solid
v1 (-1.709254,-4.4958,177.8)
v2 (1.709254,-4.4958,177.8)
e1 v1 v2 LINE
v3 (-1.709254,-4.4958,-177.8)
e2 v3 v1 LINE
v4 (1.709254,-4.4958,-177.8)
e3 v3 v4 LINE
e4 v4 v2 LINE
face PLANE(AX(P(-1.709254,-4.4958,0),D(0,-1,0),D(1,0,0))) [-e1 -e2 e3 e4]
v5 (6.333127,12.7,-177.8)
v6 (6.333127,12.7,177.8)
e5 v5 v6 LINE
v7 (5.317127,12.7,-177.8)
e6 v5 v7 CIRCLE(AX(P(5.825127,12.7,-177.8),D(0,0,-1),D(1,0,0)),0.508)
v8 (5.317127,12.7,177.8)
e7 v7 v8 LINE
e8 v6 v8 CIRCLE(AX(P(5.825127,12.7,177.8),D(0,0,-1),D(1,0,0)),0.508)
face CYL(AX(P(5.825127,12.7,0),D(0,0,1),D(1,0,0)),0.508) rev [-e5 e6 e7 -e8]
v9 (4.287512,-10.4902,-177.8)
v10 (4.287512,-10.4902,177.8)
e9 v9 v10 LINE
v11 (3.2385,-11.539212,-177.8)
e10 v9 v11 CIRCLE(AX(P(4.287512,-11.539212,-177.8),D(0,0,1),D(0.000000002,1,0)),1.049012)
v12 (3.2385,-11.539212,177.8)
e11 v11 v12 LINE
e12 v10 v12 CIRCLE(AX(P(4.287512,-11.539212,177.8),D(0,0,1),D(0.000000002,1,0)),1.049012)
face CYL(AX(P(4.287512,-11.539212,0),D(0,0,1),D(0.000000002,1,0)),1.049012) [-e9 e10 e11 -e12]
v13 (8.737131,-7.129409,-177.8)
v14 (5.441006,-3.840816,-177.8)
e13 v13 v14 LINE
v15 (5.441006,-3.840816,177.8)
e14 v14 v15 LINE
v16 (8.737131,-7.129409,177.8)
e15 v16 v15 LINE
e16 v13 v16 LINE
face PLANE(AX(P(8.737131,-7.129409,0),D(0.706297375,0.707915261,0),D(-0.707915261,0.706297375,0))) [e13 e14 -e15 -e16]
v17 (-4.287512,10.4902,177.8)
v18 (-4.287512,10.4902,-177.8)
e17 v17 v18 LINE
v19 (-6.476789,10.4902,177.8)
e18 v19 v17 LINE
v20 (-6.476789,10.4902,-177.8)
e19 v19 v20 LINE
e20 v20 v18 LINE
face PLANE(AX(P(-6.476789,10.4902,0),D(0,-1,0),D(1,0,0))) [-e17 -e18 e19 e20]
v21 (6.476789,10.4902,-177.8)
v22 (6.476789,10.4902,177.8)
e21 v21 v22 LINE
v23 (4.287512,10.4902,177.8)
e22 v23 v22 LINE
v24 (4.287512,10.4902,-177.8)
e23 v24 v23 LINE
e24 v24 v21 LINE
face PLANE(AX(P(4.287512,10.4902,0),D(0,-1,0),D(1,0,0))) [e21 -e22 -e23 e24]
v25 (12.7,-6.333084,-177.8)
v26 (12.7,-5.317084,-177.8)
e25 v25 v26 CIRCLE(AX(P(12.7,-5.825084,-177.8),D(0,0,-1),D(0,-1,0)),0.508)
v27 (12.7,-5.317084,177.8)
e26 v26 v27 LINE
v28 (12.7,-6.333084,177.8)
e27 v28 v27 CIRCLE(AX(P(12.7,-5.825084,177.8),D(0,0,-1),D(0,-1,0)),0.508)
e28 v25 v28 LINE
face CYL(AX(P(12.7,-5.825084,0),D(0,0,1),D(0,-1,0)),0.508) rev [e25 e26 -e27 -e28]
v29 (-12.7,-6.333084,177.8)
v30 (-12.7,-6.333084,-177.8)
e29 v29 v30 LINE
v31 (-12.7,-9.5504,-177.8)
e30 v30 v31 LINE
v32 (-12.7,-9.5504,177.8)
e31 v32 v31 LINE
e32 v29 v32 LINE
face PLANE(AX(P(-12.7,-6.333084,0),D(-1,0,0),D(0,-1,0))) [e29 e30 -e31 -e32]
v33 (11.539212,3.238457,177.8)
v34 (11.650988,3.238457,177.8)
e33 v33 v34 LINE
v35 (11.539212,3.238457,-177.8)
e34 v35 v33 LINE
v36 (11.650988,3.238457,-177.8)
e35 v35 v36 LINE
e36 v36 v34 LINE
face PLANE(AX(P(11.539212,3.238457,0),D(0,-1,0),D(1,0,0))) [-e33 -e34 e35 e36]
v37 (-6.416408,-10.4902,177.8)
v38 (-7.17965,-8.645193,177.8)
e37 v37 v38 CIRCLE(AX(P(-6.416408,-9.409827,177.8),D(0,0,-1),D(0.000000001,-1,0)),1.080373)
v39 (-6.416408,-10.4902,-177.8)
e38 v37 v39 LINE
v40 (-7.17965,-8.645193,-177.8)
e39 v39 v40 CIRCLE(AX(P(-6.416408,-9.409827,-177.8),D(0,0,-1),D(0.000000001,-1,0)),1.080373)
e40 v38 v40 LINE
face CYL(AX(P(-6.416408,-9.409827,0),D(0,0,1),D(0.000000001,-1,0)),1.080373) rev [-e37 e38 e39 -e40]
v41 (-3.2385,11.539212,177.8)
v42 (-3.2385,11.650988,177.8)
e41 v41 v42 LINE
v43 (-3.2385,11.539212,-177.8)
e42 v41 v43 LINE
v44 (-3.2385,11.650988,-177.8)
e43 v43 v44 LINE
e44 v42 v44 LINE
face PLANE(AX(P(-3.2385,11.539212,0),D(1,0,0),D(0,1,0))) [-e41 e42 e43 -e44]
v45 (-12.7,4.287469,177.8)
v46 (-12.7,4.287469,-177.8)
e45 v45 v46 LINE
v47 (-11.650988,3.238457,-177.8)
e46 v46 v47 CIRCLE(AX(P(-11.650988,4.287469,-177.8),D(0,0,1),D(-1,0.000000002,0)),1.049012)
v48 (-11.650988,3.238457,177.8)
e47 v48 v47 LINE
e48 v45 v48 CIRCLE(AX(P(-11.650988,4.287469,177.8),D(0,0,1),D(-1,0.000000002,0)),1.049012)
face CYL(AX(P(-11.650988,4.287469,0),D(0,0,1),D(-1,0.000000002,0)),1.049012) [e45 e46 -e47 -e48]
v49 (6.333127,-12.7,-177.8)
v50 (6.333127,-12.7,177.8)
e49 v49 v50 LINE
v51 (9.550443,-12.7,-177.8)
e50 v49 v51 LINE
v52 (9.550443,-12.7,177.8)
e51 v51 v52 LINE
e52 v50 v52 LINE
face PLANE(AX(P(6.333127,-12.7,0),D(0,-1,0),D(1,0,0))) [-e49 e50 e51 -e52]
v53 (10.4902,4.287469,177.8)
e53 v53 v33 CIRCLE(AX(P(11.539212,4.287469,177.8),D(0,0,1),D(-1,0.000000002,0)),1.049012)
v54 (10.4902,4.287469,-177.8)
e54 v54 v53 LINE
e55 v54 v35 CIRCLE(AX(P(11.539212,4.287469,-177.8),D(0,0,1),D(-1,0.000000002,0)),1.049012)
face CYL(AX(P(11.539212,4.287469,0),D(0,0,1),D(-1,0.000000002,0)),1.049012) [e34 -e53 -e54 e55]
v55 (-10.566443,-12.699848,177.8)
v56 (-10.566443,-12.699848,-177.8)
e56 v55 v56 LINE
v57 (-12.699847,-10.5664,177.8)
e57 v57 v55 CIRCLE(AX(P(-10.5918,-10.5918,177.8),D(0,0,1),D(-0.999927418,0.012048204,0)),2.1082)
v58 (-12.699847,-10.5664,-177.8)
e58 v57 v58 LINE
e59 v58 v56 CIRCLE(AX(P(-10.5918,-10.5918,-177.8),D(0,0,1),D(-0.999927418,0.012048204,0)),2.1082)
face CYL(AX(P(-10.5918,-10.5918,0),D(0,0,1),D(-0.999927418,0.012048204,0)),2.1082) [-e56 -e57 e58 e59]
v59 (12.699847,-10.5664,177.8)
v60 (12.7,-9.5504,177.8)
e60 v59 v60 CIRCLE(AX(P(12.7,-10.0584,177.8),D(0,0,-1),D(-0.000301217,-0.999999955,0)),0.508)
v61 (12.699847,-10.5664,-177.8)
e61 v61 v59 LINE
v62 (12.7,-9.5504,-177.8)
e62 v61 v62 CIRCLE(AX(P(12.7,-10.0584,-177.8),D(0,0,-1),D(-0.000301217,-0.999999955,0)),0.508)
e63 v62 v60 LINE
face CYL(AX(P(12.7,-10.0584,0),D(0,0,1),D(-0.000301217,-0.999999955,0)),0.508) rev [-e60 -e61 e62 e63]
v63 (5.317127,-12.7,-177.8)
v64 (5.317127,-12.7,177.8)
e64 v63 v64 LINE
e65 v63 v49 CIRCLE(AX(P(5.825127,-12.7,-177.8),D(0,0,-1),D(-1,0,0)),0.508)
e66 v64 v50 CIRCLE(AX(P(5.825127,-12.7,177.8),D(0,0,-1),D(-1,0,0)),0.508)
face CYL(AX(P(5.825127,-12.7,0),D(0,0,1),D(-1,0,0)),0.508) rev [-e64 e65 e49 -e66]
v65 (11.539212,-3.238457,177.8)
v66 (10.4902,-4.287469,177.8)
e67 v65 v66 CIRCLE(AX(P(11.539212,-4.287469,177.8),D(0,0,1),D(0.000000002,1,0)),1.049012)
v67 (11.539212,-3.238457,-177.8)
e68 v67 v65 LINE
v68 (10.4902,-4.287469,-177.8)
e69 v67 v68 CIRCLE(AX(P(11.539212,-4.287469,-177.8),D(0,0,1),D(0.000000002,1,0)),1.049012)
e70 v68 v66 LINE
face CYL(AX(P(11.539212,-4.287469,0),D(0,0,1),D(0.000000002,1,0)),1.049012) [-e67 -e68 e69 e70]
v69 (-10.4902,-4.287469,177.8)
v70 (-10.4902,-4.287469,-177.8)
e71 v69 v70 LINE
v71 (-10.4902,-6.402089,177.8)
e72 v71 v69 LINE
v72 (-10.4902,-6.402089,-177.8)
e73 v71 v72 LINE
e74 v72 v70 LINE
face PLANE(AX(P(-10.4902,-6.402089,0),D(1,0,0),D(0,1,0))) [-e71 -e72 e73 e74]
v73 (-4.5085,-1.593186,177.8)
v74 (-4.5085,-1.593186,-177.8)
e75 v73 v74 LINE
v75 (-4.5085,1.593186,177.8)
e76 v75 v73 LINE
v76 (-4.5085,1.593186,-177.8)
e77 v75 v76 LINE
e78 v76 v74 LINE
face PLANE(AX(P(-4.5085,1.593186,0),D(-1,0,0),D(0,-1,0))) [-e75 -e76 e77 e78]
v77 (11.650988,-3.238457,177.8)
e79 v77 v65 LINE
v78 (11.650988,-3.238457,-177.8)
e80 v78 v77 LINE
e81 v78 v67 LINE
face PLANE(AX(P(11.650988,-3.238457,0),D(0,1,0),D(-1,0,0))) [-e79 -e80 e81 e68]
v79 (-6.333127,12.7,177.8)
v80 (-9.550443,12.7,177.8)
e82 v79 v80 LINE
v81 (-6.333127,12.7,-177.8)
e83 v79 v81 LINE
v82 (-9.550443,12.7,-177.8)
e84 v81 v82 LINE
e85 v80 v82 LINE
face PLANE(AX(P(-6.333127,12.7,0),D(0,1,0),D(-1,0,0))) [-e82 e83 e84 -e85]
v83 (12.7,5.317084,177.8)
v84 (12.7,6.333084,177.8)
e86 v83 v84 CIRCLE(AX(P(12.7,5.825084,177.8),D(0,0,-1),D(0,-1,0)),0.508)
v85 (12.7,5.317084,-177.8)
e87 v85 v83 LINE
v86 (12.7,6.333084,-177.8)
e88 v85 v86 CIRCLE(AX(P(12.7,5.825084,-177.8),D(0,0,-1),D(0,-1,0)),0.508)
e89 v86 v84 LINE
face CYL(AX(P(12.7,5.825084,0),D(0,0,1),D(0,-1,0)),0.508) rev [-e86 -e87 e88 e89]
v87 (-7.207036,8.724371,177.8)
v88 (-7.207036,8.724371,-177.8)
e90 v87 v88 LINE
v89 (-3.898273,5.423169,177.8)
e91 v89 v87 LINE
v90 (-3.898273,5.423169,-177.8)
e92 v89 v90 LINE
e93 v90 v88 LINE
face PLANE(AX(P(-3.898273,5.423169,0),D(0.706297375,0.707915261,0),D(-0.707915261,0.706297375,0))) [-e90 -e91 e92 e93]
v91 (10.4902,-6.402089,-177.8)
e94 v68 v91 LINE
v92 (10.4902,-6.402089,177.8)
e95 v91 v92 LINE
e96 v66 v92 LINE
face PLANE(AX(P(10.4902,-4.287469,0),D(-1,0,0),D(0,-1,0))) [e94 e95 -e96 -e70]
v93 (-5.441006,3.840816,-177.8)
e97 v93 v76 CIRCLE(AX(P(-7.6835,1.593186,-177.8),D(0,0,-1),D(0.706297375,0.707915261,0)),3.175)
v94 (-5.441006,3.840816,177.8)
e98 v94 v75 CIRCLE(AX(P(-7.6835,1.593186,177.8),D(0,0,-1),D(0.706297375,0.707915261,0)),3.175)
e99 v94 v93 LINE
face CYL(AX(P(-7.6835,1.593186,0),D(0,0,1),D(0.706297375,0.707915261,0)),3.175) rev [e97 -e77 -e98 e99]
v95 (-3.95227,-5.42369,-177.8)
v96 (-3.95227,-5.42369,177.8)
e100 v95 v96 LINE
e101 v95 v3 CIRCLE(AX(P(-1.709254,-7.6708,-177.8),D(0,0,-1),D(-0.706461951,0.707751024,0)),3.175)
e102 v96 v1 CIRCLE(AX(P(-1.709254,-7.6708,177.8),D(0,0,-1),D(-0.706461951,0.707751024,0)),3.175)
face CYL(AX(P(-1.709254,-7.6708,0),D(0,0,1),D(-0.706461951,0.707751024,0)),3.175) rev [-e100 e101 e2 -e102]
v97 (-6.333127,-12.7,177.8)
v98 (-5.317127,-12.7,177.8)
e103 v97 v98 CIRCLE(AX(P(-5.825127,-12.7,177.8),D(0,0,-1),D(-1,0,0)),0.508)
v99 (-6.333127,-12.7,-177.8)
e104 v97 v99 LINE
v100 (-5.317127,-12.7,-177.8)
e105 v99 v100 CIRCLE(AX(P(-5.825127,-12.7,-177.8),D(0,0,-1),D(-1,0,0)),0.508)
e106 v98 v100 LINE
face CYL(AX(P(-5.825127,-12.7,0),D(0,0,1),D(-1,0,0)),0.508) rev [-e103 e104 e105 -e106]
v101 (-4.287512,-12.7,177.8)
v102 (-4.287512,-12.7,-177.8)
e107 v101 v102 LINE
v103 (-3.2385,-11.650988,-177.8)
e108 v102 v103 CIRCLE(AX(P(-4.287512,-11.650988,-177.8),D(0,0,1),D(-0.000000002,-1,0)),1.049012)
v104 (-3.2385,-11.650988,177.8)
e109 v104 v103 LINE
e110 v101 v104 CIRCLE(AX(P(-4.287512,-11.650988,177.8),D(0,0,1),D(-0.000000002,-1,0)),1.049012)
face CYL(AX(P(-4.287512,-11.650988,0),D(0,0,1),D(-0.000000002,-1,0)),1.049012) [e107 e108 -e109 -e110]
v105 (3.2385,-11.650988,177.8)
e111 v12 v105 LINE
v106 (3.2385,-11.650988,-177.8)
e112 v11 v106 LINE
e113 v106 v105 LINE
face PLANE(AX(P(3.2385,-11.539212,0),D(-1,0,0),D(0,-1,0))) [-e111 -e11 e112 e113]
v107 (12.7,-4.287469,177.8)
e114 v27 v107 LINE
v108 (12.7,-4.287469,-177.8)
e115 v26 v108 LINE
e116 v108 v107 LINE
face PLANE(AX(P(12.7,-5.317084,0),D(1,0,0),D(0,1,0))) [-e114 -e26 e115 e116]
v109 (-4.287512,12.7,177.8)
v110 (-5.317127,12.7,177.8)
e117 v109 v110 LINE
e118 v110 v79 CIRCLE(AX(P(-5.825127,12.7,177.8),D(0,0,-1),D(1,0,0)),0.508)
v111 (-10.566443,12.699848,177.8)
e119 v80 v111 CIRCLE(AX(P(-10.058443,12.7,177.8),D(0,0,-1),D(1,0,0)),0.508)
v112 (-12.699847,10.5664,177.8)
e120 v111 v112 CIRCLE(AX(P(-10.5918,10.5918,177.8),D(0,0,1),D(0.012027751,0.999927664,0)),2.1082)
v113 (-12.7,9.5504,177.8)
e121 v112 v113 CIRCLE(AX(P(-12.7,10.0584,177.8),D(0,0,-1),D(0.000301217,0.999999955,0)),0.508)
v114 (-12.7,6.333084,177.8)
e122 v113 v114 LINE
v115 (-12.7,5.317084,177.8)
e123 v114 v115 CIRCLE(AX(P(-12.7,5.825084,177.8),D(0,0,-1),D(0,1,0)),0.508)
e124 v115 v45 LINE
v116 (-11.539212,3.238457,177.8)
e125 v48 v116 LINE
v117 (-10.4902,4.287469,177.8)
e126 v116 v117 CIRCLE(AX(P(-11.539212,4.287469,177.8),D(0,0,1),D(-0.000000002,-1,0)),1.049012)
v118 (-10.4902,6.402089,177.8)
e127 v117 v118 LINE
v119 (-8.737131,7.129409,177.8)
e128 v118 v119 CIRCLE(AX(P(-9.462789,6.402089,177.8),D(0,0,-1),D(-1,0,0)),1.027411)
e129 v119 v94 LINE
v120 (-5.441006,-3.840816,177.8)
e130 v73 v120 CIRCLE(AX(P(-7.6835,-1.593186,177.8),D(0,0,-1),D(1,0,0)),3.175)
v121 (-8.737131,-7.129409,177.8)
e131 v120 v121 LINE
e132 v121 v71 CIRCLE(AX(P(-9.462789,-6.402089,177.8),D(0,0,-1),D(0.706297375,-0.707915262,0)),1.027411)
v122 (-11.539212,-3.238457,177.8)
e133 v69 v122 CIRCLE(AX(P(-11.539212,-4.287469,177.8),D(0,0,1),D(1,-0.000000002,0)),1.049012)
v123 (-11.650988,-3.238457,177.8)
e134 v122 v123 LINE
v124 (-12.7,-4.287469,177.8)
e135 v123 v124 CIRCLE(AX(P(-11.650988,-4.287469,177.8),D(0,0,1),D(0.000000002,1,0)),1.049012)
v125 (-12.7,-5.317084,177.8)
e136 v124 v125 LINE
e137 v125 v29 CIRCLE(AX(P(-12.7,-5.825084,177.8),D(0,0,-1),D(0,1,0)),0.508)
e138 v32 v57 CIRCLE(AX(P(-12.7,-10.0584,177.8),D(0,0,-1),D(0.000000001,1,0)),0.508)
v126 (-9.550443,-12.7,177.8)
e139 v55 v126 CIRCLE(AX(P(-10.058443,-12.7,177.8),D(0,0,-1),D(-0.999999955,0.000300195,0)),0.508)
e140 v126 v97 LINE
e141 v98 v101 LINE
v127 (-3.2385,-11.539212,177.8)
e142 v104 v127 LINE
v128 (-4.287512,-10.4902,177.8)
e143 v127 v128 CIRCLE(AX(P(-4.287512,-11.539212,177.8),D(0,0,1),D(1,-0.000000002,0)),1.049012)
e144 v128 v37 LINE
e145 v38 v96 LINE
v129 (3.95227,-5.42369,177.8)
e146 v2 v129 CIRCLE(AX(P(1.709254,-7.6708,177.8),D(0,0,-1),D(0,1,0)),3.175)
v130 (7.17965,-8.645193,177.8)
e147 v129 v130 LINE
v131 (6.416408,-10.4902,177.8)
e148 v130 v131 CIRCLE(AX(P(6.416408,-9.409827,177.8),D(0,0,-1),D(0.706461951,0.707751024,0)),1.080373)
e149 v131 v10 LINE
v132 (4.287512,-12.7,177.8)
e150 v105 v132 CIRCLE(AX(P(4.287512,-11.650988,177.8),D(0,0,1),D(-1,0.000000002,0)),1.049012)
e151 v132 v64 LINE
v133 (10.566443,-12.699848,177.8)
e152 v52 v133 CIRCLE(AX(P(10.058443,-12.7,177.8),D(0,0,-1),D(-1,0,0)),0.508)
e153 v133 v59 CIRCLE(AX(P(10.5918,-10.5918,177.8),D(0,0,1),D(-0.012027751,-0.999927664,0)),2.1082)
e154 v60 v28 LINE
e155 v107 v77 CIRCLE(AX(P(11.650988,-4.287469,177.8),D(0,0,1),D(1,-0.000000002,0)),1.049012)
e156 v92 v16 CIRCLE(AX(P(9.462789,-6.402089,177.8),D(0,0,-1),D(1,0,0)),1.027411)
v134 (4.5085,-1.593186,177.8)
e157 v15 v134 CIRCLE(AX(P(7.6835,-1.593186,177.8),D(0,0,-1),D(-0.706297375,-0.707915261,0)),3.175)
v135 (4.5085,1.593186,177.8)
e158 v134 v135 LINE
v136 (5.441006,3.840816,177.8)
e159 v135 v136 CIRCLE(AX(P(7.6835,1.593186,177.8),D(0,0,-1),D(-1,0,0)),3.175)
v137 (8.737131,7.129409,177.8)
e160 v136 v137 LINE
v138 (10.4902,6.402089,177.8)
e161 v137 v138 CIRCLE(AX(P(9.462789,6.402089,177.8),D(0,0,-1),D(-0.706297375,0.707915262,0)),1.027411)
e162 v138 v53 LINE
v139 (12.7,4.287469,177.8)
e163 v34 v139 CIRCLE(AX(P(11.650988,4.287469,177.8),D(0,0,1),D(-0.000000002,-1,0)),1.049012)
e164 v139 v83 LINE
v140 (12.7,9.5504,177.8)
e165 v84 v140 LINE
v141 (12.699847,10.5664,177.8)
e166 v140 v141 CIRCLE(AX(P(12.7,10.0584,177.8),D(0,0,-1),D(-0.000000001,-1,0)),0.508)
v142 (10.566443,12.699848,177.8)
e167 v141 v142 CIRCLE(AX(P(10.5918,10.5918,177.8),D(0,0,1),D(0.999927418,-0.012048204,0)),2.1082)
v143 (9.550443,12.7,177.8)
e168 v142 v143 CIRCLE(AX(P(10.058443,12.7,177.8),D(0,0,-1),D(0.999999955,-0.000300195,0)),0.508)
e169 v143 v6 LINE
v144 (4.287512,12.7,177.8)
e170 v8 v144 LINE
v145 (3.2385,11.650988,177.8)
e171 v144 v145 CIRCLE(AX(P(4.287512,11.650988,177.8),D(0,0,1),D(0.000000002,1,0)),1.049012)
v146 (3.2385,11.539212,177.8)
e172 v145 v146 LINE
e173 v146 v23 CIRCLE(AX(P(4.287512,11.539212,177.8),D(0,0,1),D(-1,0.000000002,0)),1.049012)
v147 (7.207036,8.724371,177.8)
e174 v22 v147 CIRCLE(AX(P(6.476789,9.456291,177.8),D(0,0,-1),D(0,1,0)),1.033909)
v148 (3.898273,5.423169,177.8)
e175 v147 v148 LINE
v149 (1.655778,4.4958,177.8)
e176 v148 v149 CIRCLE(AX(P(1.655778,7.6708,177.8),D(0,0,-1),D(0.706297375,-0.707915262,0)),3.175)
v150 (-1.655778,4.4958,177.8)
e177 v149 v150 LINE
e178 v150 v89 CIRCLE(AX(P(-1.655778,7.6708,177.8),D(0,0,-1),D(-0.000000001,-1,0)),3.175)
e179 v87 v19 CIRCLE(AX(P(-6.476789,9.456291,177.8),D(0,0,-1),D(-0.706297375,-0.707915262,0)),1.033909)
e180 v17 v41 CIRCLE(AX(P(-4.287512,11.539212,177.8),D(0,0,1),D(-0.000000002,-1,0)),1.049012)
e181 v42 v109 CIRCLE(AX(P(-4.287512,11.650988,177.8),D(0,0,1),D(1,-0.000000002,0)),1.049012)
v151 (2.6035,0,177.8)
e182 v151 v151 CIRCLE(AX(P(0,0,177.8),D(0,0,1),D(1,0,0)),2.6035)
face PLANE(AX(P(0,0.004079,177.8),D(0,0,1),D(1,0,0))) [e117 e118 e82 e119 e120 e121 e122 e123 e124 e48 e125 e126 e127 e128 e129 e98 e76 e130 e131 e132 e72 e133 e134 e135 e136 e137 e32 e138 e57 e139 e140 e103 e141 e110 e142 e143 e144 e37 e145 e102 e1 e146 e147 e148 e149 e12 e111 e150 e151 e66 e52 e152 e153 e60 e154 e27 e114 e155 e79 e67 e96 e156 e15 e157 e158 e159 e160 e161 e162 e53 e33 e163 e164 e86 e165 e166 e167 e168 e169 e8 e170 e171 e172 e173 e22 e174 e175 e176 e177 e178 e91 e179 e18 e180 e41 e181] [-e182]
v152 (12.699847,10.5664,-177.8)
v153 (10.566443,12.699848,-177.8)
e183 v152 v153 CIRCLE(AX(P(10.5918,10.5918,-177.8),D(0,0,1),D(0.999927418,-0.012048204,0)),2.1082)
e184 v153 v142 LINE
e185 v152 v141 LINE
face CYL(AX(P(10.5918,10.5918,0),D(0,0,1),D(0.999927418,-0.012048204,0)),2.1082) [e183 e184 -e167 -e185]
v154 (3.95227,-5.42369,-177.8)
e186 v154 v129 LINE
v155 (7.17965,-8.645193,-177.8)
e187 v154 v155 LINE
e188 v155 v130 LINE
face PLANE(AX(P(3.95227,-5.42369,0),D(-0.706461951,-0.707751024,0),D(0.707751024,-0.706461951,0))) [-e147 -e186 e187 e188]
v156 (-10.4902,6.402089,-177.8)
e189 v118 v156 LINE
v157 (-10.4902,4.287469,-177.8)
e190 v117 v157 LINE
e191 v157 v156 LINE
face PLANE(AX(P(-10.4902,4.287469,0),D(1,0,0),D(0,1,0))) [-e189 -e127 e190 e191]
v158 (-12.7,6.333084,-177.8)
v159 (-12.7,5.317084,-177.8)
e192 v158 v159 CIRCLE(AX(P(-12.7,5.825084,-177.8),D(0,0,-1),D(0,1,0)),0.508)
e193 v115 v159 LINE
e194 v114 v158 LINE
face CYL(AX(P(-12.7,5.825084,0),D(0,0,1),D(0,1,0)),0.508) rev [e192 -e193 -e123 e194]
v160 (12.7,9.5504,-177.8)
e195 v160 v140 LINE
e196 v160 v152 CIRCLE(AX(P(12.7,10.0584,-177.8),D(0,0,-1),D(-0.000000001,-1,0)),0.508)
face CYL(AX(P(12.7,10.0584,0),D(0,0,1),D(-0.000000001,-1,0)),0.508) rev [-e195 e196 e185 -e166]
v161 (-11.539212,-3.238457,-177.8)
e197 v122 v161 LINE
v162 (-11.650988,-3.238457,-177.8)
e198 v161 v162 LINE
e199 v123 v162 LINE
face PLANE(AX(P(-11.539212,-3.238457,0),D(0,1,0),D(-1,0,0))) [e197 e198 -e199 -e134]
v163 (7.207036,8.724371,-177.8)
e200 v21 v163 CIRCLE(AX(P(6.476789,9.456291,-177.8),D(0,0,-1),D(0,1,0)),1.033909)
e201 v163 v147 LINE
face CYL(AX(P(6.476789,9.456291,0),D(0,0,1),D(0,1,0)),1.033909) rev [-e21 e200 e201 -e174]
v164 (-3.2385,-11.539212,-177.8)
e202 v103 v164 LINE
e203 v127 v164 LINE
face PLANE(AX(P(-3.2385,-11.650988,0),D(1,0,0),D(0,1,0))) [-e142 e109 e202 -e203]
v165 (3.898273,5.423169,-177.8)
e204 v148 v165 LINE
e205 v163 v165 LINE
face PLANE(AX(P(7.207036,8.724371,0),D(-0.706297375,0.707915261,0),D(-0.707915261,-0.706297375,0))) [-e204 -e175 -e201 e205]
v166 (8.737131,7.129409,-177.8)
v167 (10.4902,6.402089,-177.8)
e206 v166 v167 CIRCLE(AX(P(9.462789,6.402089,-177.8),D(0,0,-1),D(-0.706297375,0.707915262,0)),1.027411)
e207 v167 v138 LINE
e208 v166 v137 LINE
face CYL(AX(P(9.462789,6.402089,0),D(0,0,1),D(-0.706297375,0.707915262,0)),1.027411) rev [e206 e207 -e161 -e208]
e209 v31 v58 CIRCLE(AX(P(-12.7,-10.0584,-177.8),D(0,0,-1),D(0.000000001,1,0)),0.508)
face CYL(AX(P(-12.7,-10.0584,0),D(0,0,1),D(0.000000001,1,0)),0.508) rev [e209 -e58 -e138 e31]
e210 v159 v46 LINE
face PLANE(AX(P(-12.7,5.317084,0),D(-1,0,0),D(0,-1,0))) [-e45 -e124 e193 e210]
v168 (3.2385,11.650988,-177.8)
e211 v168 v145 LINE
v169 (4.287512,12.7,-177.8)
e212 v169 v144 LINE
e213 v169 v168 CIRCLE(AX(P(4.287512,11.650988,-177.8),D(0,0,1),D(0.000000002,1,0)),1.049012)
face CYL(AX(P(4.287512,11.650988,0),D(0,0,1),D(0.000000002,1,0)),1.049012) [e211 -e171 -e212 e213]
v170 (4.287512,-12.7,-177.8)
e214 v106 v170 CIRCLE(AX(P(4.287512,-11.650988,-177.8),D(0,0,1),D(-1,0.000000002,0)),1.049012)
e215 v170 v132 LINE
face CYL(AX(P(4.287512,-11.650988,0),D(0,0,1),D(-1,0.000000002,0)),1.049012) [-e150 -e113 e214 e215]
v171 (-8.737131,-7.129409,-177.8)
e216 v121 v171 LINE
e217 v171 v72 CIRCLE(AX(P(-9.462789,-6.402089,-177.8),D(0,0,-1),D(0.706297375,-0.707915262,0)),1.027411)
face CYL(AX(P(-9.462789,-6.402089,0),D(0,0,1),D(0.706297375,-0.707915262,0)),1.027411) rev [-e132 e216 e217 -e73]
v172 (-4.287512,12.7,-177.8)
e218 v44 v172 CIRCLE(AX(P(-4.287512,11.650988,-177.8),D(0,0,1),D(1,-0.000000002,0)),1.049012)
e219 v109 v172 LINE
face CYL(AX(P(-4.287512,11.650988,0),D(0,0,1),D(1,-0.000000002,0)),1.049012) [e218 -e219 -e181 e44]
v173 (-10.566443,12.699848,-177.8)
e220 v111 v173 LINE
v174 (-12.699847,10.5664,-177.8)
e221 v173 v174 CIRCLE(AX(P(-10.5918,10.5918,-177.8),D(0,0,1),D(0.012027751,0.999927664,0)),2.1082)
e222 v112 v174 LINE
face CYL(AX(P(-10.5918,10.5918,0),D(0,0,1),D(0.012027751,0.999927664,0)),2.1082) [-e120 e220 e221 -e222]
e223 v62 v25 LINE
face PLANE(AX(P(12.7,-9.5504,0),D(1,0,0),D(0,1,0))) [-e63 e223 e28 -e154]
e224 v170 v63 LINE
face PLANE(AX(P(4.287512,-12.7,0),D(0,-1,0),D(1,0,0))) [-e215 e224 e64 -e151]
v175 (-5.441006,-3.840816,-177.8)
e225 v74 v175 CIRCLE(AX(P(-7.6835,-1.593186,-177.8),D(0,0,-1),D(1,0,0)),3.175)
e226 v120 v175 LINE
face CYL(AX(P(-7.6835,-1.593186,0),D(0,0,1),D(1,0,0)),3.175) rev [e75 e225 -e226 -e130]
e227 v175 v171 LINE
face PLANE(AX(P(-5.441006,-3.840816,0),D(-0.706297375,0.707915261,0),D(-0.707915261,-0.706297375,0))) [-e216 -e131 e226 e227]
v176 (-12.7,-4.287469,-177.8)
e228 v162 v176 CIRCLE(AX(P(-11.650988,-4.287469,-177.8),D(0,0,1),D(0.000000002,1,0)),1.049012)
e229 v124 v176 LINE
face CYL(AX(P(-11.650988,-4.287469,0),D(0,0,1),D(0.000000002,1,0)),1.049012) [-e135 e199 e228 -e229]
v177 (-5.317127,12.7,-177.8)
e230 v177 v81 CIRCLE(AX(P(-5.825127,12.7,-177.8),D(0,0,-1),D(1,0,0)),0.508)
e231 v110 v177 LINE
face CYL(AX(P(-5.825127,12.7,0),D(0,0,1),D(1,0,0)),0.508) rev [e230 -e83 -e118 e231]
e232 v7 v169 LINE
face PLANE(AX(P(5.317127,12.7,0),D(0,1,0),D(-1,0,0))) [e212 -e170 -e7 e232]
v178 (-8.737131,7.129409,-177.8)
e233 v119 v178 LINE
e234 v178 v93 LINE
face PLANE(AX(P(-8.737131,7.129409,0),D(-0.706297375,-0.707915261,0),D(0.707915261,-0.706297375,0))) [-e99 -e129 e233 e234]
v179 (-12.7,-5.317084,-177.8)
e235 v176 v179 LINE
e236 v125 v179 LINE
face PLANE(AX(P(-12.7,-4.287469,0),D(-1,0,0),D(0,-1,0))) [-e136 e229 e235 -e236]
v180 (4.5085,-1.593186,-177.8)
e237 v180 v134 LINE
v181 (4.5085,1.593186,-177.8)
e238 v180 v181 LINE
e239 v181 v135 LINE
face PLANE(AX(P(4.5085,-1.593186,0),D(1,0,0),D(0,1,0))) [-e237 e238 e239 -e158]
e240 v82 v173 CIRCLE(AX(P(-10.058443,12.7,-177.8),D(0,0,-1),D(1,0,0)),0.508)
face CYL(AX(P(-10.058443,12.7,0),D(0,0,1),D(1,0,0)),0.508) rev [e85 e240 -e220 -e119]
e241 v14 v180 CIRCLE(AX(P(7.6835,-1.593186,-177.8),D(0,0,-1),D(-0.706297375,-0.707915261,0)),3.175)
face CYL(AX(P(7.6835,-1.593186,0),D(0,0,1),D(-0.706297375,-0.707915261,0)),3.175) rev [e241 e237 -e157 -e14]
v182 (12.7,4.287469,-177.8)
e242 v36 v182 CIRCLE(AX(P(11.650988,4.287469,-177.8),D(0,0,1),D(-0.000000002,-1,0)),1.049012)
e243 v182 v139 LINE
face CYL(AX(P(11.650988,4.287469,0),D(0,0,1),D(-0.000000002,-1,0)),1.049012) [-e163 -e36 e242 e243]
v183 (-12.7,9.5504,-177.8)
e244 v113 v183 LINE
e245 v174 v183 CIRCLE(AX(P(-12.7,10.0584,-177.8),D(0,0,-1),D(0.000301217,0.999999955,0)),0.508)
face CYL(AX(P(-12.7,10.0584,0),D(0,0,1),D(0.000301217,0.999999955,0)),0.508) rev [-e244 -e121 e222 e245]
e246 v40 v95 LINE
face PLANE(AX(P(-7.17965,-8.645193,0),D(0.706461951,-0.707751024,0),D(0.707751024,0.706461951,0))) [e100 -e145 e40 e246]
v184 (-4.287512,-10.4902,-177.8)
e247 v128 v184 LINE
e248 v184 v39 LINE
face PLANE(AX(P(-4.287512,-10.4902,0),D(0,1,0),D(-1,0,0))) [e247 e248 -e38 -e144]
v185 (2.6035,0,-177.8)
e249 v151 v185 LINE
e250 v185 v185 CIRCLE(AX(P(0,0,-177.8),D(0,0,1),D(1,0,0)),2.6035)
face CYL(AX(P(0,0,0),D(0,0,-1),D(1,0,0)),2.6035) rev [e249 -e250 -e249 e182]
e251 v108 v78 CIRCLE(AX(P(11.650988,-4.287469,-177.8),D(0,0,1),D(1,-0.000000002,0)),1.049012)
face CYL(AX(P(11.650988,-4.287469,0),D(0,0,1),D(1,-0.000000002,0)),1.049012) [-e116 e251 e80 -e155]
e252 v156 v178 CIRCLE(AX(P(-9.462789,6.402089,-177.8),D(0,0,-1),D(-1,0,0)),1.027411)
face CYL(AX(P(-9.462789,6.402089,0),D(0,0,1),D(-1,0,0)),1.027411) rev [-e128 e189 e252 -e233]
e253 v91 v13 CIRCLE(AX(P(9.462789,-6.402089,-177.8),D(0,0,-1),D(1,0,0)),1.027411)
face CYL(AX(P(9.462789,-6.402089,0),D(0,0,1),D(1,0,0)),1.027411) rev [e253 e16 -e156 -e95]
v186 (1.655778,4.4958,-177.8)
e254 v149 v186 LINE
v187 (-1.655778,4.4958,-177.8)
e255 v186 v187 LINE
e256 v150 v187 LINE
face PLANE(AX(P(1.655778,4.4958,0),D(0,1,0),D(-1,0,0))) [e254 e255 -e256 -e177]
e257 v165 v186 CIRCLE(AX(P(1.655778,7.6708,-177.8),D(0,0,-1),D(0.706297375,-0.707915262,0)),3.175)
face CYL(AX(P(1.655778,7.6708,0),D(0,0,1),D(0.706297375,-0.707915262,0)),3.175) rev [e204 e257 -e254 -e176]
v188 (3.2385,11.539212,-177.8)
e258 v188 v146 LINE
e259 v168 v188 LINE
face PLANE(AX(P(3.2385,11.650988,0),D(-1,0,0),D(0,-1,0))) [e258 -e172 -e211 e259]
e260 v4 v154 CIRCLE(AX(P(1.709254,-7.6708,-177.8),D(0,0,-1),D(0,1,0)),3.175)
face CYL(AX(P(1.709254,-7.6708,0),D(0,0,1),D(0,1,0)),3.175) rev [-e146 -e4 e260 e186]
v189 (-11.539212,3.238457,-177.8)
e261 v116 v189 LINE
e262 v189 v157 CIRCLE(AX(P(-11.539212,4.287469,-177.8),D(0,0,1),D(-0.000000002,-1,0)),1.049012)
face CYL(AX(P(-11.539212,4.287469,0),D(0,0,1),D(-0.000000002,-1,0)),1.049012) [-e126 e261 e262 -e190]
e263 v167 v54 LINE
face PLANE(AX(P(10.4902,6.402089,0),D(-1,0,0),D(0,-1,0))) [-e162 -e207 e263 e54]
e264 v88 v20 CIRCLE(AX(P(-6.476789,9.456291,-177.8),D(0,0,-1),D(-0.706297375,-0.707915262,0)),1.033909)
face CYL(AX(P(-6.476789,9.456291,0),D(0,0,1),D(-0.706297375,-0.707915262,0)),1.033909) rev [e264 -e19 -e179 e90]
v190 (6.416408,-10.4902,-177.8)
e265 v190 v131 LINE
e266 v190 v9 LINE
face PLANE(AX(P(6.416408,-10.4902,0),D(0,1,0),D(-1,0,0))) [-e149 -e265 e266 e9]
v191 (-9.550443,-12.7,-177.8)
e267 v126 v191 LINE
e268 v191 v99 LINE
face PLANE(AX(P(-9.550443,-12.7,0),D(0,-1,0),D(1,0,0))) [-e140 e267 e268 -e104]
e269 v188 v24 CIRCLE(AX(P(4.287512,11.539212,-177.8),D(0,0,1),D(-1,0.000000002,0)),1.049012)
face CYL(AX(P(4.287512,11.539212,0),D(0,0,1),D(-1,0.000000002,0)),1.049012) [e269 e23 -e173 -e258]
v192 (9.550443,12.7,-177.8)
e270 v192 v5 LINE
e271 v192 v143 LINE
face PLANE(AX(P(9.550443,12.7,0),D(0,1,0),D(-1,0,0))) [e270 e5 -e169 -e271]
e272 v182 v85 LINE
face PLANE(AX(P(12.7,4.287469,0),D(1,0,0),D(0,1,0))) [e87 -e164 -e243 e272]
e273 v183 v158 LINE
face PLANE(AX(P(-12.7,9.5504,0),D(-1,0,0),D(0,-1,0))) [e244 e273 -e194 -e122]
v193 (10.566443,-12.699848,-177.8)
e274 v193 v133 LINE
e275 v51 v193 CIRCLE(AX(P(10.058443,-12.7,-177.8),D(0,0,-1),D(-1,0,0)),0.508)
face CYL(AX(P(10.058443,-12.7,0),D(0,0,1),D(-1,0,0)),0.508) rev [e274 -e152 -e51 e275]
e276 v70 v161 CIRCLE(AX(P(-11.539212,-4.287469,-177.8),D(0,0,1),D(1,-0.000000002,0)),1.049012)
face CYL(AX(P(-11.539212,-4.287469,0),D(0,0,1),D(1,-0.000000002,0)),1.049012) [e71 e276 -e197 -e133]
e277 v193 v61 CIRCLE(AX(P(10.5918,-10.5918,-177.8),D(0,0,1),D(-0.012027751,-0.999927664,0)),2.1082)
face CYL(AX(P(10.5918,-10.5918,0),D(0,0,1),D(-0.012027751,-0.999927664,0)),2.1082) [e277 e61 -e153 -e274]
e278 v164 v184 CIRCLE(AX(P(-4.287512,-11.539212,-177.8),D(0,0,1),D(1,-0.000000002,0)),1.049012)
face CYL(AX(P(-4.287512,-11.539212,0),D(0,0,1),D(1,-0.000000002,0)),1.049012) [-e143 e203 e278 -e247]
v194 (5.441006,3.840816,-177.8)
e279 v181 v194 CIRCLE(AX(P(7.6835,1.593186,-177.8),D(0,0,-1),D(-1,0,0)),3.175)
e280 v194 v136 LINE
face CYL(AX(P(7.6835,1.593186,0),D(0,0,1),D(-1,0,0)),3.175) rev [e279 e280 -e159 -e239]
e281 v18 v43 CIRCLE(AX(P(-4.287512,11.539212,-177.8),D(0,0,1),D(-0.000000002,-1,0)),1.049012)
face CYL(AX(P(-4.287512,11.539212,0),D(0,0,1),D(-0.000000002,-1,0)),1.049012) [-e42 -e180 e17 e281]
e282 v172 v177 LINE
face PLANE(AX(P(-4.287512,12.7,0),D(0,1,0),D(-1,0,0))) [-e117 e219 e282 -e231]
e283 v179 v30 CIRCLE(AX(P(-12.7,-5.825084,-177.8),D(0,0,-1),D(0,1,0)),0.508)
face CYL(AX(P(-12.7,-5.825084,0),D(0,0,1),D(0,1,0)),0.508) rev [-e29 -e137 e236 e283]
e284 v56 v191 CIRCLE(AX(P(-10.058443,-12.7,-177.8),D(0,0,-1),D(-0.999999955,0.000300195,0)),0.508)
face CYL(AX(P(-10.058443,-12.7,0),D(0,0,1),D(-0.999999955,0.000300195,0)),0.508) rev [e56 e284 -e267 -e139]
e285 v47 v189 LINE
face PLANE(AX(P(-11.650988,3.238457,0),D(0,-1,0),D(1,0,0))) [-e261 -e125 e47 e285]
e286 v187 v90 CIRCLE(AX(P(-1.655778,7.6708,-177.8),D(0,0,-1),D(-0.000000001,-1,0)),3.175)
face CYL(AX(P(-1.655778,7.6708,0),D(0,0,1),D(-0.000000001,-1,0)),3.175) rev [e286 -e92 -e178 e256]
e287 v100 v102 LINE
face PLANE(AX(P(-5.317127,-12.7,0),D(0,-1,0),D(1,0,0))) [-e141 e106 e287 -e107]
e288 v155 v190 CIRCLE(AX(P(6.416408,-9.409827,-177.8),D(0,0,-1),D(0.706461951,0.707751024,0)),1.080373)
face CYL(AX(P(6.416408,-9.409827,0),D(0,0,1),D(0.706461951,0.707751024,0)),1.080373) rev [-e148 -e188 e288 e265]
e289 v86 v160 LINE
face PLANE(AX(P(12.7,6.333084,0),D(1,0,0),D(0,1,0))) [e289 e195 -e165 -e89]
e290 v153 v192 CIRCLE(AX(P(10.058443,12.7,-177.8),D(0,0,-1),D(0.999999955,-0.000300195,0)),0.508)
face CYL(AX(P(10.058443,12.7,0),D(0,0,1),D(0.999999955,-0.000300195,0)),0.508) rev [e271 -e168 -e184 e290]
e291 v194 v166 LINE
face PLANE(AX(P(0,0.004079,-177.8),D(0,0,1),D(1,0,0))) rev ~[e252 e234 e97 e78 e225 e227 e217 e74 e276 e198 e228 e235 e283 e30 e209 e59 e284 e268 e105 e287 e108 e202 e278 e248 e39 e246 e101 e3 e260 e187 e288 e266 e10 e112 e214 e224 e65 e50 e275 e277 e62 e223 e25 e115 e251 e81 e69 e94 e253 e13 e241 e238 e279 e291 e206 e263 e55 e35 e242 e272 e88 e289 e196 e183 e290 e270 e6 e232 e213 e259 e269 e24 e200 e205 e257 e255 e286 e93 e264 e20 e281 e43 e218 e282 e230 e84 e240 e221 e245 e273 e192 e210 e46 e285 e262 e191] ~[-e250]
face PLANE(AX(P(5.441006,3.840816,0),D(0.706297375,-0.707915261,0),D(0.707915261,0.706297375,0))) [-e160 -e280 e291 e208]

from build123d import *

# Parameters (mm, degrees)
SKETCH1_R           = 2.6035
BOSS_EXTRUDE1_DEPTH = 177.8


with BuildPart() as part:
    # Sketch1 → Boss-Extrude1 (new body, symmetric)
    with BuildSketch(Plane.XY):
        with BuildLine():
            Line((-7.179650497, -8.645192506), (-3.952270251, -5.423690499))
            ThreePointArc((-3.952270251, -5.423690499), (-2.922936451, -4.736929036), (-1.709253557, -4.4958))
            Line((-1.709253557, -4.4958), (1.709253557, -4.4958))
            ThreePointArc((1.709253557, -4.4958), (2.922936451, -4.736929036), (3.952270251, -5.423690499))
            Line((3.952270251, -5.423690499), (7.179650497, -8.645192506))
            ThreePointArc((7.179650497, -8.645192506), (7.41473083, -9.822813117), (6.416408329, -10.4902))
            Line((6.416408329, -10.4902), (4.287512407, -10.4902))
            ThreePointArc((4.287512407, -10.4902), (3.54574862, -10.79744862), (3.2385, -11.539212407))
            Line((3.2385, -11.539212407), (3.2385, -11.650987593))
            ThreePointArc((3.2385, -11.650987593), (3.54574862, -12.39275138), (4.287512407, -12.7))
            Line((4.287512407, -12.7), (5.317126718, -12.7))
            ThreePointArc((5.317126718, -12.7), (5.825126718, -12.192), (6.333126718, -12.7))
            Line((6.333126718, -12.7), (9.550443118, -12.7))
            ThreePointArc((9.550443118, -12.7), (10.058366869, -12.192000006), (10.566443095, -12.699847501))
            ThreePointArc((10.566443095, -12.699847501), (12.082537762, -12.08250727), (12.699846982, -10.566399977))
            ThreePointArc((12.699846982, -10.566399977), (12.192000006, -10.058323491), (12.7, -9.5504))
            Line((12.7, -9.5504), (12.7, -6.3330836))
            ThreePointArc((12.7, -6.3330836), (12.192, -5.8250836), (12.7, -5.3170836))
            Line((12.7, -5.3170836), (12.7, -4.287469289))
            ThreePointArc((12.7, -4.287469289), (12.39275138, -3.545705502), (11.650987593, -3.238456882))
            Line((11.650987593, -3.238456882), (11.539212407, -3.238456882))
            ThreePointArc((11.539212407, -3.238456882), (10.79744862, -3.545705502), (10.4902, -4.287469289))
            Line((10.4902, -4.287469289), (10.4902, -6.402089023))
            ThreePointArc((10.4902, -6.402089023), (9.856505071, -7.351067942), (8.737131347, -7.129408934))
            Line((8.737131347, -7.129408934), (5.441005833, -3.840816462))
            ThreePointArc((5.441005833, -3.840816462), (4.750877967, -2.809883091), (4.5085, -1.593185507))
            Line((4.5085, -1.593185507), (4.5085, 1.593185507))
            ThreePointArc((4.5085, 1.593185507), (4.750877967, 2.809883091), (5.441005833, 3.840816462))
            Line((5.441005833, 3.840816462), (8.737131347, 7.129408934))
            ThreePointArc((8.737131347, 7.129408934), (9.856505071, 7.351067942), (10.4902, 6.402089023))
            Line((10.4902, 6.402089023), (10.4902, 4.287469289))
            ThreePointArc((10.4902, 4.287469289), (10.79744862, 3.545705502), (11.539212407, 3.238456882))
            Line((11.539212407, 3.238456882), (11.650987593, 3.238456882))
            ThreePointArc((11.650987593, 3.238456882), (12.39275138, 3.545705502), (12.7, 4.287469289))
            Line((12.7, 4.287469289), (12.7, 5.3170836))
            ThreePointArc((12.7, 5.3170836), (12.192, 5.8250836), (12.7, 6.3330836))
            Line((12.7, 6.3330836), (12.7, 9.5504))
            ThreePointArc((12.7, 9.5504), (12.192000006, 10.058323491), (12.699846982, 10.566399977))
            ThreePointArc((12.699846982, 10.566399977), (12.082537762, 12.08250727), (10.566443095, 12.699847501))
            ThreePointArc((10.566443095, 12.699847501), (10.058366869, 12.192000006), (9.550443118, 12.7))
            Line((9.550443118, 12.7), (6.333126718, 12.7))
            ThreePointArc((6.333126718, 12.7), (5.825126718, 12.192), (5.317126718, 12.7))
            Line((5.317126718, 12.7), (4.287512407, 12.7))
            ThreePointArc((4.287512407, 12.7), (3.54574862, 12.39275138), (3.2385, 11.650987593))
            Line((3.2385, 11.650987593), (3.2385, 11.539212407))
            ThreePointArc((3.2385, 11.539212407), (3.54574862, 10.79744862), (4.287512407, 10.4902))
            Line((4.287512407, 10.4902), (6.476788598, 10.4902))
            ThreePointArc((6.476788598, 10.4902), (7.432222385, 9.85140422), (7.207036008, 8.724370562))
            Line((7.207036008, 8.724370562), (3.898272566, 5.423169045))
            ThreePointArc((3.898272566, 5.423169045), (2.869120213, 4.736787962), (1.655778399, 4.4958))
            Line((1.655778399, 4.4958), (-1.655778399, 4.4958))
            ThreePointArc((-1.655778399, 4.4958), (-2.869120213, 4.736787962), (-3.898272566, 5.423169045))
            Line((-3.898272566, 5.423169045), (-7.207036008, 8.724370562))
            ThreePointArc((-7.207036008, 8.724370562), (-7.432222385, 9.85140422), (-6.476788598, 10.4902))
            Line((-6.476788598, 10.4902), (-4.287512407, 10.4902))
            ThreePointArc((-4.287512407, 10.4902), (-3.54574862, 10.79744862), (-3.2385, 11.539212407))
            Line((-3.2385, 11.539212407), (-3.2385, 11.650987593))
            ThreePointArc((-3.2385, 11.650987593), (-3.54574862, 12.39275138), (-4.287512407, 12.7))
            Line((-4.287512407, 12.7), (-5.317126718, 12.7))
            ThreePointArc((-5.317126718, 12.7), (-5.825126718, 12.192), (-6.333126718, 12.7))
            Line((-6.333126718, 12.7), (-9.550443118, 12.7))
            ThreePointArc((-9.550443118, 12.7), (-10.058366869, 12.192000006), (-10.566443095, 12.699847501))
            ThreePointArc((-10.566443095, 12.699847501), (-12.082537762, 12.08250727), (-12.699846982, 10.566399977))
            ThreePointArc((-12.699846982, 10.566399977), (-12.192000006, 10.058323491), (-12.7, 9.5504))
            Line((-12.7, 9.5504), (-12.7, 6.3330836))
            ThreePointArc((-12.7, 6.3330836), (-12.192, 5.8250836), (-12.7, 5.3170836))
            Line((-12.7, 5.3170836), (-12.7, 4.287469289))
            ThreePointArc((-12.7, 4.287469289), (-12.39275138, 3.545705502), (-11.650987593, 3.238456882))
            Line((-11.650987593, 3.238456882), (-11.539212407, 3.238456882))
            ThreePointArc((-11.539212407, 3.238456882), (-10.79744862, 3.545705502), (-10.4902, 4.287469289))
            Line((-10.4902, 4.287469289), (-10.4902, 6.402089023))
            ThreePointArc((-10.4902, 6.402089023), (-9.856505071, 7.351067942), (-8.737131347, 7.129408934))
            Line((-8.737131347, 7.129408934), (-5.441005833, 3.840816462))
            ThreePointArc((-5.441005833, 3.840816462), (-4.750877967, 2.809883091), (-4.5085, 1.593185507))
            Line((-4.5085, 1.593185507), (-4.5085, -1.593185507))
            ThreePointArc((-4.5085, -1.593185507), (-4.750877967, -2.809883091), (-5.441005833, -3.840816462))
            Line((-5.441005833, -3.840816462), (-8.737131347, -7.129408934))
            ThreePointArc((-8.737131347, -7.129408934), (-9.856505071, -7.351067942), (-10.4902, -6.402089023))
            Line((-10.4902, -6.402089023), (-10.4902, -4.287469289))
            ThreePointArc((-10.4902, -4.287469289), (-10.79744862, -3.545705502), (-11.539212407, -3.238456882))
            Line((-11.539212407, -3.238456882), (-11.650987593, -3.238456882))
            ThreePointArc((-11.650987593, -3.238456882), (-12.39275138, -3.545705502), (-12.7, -4.287469289))
            Line((-12.7, -4.287469289), (-12.7, -5.3170836))
            ThreePointArc((-12.7, -5.3170836), (-12.192, -5.8250836), (-12.7, -6.3330836))
            Line((-12.7, -6.3330836), (-12.7, -9.5504))
            ThreePointArc((-12.7, -9.5504), (-12.192000006, -10.058323491), (-12.699846982, -10.566399977))
            ThreePointArc((-12.699846982, -10.566399977), (-12.082537762, -12.08250727), (-10.566443095, -12.699847501))
            ThreePointArc((-10.566443095, -12.699847501), (-10.058366869, -12.192000006), (-9.550443118, -12.7))
            Line((-9.550443118, -12.7), (-6.333126718, -12.7))
            ThreePointArc((-6.333126718, -12.7), (-5.825126718, -12.192), (-5.317126718, -12.7))
            Line((-5.317126718, -12.7), (-4.287512407, -12.7))
            ThreePointArc((-4.287512407, -12.7), (-3.54574862, -12.39275138), (-3.2385, -11.650987593))
            Line((-3.2385, -11.650987593), (-3.2385, -11.539212407))
            ThreePointArc((-3.2385, -11.539212407), (-3.54574862, -10.79744862), (-4.287512407, -10.4902))
            Line((-4.287512407, -10.4902), (-6.416408329, -10.4902))
            ThreePointArc((-6.416408329, -10.4902), (-7.41473083, -9.822813117), (-7.179650497, -8.645192506))
        make_face()
        Circle(SKETCH1_R, mode=Mode.SUBTRACT)
    extrude(amount=BOSS_EXTRUDE1_DEPTH, both=True)


solid = part.part
